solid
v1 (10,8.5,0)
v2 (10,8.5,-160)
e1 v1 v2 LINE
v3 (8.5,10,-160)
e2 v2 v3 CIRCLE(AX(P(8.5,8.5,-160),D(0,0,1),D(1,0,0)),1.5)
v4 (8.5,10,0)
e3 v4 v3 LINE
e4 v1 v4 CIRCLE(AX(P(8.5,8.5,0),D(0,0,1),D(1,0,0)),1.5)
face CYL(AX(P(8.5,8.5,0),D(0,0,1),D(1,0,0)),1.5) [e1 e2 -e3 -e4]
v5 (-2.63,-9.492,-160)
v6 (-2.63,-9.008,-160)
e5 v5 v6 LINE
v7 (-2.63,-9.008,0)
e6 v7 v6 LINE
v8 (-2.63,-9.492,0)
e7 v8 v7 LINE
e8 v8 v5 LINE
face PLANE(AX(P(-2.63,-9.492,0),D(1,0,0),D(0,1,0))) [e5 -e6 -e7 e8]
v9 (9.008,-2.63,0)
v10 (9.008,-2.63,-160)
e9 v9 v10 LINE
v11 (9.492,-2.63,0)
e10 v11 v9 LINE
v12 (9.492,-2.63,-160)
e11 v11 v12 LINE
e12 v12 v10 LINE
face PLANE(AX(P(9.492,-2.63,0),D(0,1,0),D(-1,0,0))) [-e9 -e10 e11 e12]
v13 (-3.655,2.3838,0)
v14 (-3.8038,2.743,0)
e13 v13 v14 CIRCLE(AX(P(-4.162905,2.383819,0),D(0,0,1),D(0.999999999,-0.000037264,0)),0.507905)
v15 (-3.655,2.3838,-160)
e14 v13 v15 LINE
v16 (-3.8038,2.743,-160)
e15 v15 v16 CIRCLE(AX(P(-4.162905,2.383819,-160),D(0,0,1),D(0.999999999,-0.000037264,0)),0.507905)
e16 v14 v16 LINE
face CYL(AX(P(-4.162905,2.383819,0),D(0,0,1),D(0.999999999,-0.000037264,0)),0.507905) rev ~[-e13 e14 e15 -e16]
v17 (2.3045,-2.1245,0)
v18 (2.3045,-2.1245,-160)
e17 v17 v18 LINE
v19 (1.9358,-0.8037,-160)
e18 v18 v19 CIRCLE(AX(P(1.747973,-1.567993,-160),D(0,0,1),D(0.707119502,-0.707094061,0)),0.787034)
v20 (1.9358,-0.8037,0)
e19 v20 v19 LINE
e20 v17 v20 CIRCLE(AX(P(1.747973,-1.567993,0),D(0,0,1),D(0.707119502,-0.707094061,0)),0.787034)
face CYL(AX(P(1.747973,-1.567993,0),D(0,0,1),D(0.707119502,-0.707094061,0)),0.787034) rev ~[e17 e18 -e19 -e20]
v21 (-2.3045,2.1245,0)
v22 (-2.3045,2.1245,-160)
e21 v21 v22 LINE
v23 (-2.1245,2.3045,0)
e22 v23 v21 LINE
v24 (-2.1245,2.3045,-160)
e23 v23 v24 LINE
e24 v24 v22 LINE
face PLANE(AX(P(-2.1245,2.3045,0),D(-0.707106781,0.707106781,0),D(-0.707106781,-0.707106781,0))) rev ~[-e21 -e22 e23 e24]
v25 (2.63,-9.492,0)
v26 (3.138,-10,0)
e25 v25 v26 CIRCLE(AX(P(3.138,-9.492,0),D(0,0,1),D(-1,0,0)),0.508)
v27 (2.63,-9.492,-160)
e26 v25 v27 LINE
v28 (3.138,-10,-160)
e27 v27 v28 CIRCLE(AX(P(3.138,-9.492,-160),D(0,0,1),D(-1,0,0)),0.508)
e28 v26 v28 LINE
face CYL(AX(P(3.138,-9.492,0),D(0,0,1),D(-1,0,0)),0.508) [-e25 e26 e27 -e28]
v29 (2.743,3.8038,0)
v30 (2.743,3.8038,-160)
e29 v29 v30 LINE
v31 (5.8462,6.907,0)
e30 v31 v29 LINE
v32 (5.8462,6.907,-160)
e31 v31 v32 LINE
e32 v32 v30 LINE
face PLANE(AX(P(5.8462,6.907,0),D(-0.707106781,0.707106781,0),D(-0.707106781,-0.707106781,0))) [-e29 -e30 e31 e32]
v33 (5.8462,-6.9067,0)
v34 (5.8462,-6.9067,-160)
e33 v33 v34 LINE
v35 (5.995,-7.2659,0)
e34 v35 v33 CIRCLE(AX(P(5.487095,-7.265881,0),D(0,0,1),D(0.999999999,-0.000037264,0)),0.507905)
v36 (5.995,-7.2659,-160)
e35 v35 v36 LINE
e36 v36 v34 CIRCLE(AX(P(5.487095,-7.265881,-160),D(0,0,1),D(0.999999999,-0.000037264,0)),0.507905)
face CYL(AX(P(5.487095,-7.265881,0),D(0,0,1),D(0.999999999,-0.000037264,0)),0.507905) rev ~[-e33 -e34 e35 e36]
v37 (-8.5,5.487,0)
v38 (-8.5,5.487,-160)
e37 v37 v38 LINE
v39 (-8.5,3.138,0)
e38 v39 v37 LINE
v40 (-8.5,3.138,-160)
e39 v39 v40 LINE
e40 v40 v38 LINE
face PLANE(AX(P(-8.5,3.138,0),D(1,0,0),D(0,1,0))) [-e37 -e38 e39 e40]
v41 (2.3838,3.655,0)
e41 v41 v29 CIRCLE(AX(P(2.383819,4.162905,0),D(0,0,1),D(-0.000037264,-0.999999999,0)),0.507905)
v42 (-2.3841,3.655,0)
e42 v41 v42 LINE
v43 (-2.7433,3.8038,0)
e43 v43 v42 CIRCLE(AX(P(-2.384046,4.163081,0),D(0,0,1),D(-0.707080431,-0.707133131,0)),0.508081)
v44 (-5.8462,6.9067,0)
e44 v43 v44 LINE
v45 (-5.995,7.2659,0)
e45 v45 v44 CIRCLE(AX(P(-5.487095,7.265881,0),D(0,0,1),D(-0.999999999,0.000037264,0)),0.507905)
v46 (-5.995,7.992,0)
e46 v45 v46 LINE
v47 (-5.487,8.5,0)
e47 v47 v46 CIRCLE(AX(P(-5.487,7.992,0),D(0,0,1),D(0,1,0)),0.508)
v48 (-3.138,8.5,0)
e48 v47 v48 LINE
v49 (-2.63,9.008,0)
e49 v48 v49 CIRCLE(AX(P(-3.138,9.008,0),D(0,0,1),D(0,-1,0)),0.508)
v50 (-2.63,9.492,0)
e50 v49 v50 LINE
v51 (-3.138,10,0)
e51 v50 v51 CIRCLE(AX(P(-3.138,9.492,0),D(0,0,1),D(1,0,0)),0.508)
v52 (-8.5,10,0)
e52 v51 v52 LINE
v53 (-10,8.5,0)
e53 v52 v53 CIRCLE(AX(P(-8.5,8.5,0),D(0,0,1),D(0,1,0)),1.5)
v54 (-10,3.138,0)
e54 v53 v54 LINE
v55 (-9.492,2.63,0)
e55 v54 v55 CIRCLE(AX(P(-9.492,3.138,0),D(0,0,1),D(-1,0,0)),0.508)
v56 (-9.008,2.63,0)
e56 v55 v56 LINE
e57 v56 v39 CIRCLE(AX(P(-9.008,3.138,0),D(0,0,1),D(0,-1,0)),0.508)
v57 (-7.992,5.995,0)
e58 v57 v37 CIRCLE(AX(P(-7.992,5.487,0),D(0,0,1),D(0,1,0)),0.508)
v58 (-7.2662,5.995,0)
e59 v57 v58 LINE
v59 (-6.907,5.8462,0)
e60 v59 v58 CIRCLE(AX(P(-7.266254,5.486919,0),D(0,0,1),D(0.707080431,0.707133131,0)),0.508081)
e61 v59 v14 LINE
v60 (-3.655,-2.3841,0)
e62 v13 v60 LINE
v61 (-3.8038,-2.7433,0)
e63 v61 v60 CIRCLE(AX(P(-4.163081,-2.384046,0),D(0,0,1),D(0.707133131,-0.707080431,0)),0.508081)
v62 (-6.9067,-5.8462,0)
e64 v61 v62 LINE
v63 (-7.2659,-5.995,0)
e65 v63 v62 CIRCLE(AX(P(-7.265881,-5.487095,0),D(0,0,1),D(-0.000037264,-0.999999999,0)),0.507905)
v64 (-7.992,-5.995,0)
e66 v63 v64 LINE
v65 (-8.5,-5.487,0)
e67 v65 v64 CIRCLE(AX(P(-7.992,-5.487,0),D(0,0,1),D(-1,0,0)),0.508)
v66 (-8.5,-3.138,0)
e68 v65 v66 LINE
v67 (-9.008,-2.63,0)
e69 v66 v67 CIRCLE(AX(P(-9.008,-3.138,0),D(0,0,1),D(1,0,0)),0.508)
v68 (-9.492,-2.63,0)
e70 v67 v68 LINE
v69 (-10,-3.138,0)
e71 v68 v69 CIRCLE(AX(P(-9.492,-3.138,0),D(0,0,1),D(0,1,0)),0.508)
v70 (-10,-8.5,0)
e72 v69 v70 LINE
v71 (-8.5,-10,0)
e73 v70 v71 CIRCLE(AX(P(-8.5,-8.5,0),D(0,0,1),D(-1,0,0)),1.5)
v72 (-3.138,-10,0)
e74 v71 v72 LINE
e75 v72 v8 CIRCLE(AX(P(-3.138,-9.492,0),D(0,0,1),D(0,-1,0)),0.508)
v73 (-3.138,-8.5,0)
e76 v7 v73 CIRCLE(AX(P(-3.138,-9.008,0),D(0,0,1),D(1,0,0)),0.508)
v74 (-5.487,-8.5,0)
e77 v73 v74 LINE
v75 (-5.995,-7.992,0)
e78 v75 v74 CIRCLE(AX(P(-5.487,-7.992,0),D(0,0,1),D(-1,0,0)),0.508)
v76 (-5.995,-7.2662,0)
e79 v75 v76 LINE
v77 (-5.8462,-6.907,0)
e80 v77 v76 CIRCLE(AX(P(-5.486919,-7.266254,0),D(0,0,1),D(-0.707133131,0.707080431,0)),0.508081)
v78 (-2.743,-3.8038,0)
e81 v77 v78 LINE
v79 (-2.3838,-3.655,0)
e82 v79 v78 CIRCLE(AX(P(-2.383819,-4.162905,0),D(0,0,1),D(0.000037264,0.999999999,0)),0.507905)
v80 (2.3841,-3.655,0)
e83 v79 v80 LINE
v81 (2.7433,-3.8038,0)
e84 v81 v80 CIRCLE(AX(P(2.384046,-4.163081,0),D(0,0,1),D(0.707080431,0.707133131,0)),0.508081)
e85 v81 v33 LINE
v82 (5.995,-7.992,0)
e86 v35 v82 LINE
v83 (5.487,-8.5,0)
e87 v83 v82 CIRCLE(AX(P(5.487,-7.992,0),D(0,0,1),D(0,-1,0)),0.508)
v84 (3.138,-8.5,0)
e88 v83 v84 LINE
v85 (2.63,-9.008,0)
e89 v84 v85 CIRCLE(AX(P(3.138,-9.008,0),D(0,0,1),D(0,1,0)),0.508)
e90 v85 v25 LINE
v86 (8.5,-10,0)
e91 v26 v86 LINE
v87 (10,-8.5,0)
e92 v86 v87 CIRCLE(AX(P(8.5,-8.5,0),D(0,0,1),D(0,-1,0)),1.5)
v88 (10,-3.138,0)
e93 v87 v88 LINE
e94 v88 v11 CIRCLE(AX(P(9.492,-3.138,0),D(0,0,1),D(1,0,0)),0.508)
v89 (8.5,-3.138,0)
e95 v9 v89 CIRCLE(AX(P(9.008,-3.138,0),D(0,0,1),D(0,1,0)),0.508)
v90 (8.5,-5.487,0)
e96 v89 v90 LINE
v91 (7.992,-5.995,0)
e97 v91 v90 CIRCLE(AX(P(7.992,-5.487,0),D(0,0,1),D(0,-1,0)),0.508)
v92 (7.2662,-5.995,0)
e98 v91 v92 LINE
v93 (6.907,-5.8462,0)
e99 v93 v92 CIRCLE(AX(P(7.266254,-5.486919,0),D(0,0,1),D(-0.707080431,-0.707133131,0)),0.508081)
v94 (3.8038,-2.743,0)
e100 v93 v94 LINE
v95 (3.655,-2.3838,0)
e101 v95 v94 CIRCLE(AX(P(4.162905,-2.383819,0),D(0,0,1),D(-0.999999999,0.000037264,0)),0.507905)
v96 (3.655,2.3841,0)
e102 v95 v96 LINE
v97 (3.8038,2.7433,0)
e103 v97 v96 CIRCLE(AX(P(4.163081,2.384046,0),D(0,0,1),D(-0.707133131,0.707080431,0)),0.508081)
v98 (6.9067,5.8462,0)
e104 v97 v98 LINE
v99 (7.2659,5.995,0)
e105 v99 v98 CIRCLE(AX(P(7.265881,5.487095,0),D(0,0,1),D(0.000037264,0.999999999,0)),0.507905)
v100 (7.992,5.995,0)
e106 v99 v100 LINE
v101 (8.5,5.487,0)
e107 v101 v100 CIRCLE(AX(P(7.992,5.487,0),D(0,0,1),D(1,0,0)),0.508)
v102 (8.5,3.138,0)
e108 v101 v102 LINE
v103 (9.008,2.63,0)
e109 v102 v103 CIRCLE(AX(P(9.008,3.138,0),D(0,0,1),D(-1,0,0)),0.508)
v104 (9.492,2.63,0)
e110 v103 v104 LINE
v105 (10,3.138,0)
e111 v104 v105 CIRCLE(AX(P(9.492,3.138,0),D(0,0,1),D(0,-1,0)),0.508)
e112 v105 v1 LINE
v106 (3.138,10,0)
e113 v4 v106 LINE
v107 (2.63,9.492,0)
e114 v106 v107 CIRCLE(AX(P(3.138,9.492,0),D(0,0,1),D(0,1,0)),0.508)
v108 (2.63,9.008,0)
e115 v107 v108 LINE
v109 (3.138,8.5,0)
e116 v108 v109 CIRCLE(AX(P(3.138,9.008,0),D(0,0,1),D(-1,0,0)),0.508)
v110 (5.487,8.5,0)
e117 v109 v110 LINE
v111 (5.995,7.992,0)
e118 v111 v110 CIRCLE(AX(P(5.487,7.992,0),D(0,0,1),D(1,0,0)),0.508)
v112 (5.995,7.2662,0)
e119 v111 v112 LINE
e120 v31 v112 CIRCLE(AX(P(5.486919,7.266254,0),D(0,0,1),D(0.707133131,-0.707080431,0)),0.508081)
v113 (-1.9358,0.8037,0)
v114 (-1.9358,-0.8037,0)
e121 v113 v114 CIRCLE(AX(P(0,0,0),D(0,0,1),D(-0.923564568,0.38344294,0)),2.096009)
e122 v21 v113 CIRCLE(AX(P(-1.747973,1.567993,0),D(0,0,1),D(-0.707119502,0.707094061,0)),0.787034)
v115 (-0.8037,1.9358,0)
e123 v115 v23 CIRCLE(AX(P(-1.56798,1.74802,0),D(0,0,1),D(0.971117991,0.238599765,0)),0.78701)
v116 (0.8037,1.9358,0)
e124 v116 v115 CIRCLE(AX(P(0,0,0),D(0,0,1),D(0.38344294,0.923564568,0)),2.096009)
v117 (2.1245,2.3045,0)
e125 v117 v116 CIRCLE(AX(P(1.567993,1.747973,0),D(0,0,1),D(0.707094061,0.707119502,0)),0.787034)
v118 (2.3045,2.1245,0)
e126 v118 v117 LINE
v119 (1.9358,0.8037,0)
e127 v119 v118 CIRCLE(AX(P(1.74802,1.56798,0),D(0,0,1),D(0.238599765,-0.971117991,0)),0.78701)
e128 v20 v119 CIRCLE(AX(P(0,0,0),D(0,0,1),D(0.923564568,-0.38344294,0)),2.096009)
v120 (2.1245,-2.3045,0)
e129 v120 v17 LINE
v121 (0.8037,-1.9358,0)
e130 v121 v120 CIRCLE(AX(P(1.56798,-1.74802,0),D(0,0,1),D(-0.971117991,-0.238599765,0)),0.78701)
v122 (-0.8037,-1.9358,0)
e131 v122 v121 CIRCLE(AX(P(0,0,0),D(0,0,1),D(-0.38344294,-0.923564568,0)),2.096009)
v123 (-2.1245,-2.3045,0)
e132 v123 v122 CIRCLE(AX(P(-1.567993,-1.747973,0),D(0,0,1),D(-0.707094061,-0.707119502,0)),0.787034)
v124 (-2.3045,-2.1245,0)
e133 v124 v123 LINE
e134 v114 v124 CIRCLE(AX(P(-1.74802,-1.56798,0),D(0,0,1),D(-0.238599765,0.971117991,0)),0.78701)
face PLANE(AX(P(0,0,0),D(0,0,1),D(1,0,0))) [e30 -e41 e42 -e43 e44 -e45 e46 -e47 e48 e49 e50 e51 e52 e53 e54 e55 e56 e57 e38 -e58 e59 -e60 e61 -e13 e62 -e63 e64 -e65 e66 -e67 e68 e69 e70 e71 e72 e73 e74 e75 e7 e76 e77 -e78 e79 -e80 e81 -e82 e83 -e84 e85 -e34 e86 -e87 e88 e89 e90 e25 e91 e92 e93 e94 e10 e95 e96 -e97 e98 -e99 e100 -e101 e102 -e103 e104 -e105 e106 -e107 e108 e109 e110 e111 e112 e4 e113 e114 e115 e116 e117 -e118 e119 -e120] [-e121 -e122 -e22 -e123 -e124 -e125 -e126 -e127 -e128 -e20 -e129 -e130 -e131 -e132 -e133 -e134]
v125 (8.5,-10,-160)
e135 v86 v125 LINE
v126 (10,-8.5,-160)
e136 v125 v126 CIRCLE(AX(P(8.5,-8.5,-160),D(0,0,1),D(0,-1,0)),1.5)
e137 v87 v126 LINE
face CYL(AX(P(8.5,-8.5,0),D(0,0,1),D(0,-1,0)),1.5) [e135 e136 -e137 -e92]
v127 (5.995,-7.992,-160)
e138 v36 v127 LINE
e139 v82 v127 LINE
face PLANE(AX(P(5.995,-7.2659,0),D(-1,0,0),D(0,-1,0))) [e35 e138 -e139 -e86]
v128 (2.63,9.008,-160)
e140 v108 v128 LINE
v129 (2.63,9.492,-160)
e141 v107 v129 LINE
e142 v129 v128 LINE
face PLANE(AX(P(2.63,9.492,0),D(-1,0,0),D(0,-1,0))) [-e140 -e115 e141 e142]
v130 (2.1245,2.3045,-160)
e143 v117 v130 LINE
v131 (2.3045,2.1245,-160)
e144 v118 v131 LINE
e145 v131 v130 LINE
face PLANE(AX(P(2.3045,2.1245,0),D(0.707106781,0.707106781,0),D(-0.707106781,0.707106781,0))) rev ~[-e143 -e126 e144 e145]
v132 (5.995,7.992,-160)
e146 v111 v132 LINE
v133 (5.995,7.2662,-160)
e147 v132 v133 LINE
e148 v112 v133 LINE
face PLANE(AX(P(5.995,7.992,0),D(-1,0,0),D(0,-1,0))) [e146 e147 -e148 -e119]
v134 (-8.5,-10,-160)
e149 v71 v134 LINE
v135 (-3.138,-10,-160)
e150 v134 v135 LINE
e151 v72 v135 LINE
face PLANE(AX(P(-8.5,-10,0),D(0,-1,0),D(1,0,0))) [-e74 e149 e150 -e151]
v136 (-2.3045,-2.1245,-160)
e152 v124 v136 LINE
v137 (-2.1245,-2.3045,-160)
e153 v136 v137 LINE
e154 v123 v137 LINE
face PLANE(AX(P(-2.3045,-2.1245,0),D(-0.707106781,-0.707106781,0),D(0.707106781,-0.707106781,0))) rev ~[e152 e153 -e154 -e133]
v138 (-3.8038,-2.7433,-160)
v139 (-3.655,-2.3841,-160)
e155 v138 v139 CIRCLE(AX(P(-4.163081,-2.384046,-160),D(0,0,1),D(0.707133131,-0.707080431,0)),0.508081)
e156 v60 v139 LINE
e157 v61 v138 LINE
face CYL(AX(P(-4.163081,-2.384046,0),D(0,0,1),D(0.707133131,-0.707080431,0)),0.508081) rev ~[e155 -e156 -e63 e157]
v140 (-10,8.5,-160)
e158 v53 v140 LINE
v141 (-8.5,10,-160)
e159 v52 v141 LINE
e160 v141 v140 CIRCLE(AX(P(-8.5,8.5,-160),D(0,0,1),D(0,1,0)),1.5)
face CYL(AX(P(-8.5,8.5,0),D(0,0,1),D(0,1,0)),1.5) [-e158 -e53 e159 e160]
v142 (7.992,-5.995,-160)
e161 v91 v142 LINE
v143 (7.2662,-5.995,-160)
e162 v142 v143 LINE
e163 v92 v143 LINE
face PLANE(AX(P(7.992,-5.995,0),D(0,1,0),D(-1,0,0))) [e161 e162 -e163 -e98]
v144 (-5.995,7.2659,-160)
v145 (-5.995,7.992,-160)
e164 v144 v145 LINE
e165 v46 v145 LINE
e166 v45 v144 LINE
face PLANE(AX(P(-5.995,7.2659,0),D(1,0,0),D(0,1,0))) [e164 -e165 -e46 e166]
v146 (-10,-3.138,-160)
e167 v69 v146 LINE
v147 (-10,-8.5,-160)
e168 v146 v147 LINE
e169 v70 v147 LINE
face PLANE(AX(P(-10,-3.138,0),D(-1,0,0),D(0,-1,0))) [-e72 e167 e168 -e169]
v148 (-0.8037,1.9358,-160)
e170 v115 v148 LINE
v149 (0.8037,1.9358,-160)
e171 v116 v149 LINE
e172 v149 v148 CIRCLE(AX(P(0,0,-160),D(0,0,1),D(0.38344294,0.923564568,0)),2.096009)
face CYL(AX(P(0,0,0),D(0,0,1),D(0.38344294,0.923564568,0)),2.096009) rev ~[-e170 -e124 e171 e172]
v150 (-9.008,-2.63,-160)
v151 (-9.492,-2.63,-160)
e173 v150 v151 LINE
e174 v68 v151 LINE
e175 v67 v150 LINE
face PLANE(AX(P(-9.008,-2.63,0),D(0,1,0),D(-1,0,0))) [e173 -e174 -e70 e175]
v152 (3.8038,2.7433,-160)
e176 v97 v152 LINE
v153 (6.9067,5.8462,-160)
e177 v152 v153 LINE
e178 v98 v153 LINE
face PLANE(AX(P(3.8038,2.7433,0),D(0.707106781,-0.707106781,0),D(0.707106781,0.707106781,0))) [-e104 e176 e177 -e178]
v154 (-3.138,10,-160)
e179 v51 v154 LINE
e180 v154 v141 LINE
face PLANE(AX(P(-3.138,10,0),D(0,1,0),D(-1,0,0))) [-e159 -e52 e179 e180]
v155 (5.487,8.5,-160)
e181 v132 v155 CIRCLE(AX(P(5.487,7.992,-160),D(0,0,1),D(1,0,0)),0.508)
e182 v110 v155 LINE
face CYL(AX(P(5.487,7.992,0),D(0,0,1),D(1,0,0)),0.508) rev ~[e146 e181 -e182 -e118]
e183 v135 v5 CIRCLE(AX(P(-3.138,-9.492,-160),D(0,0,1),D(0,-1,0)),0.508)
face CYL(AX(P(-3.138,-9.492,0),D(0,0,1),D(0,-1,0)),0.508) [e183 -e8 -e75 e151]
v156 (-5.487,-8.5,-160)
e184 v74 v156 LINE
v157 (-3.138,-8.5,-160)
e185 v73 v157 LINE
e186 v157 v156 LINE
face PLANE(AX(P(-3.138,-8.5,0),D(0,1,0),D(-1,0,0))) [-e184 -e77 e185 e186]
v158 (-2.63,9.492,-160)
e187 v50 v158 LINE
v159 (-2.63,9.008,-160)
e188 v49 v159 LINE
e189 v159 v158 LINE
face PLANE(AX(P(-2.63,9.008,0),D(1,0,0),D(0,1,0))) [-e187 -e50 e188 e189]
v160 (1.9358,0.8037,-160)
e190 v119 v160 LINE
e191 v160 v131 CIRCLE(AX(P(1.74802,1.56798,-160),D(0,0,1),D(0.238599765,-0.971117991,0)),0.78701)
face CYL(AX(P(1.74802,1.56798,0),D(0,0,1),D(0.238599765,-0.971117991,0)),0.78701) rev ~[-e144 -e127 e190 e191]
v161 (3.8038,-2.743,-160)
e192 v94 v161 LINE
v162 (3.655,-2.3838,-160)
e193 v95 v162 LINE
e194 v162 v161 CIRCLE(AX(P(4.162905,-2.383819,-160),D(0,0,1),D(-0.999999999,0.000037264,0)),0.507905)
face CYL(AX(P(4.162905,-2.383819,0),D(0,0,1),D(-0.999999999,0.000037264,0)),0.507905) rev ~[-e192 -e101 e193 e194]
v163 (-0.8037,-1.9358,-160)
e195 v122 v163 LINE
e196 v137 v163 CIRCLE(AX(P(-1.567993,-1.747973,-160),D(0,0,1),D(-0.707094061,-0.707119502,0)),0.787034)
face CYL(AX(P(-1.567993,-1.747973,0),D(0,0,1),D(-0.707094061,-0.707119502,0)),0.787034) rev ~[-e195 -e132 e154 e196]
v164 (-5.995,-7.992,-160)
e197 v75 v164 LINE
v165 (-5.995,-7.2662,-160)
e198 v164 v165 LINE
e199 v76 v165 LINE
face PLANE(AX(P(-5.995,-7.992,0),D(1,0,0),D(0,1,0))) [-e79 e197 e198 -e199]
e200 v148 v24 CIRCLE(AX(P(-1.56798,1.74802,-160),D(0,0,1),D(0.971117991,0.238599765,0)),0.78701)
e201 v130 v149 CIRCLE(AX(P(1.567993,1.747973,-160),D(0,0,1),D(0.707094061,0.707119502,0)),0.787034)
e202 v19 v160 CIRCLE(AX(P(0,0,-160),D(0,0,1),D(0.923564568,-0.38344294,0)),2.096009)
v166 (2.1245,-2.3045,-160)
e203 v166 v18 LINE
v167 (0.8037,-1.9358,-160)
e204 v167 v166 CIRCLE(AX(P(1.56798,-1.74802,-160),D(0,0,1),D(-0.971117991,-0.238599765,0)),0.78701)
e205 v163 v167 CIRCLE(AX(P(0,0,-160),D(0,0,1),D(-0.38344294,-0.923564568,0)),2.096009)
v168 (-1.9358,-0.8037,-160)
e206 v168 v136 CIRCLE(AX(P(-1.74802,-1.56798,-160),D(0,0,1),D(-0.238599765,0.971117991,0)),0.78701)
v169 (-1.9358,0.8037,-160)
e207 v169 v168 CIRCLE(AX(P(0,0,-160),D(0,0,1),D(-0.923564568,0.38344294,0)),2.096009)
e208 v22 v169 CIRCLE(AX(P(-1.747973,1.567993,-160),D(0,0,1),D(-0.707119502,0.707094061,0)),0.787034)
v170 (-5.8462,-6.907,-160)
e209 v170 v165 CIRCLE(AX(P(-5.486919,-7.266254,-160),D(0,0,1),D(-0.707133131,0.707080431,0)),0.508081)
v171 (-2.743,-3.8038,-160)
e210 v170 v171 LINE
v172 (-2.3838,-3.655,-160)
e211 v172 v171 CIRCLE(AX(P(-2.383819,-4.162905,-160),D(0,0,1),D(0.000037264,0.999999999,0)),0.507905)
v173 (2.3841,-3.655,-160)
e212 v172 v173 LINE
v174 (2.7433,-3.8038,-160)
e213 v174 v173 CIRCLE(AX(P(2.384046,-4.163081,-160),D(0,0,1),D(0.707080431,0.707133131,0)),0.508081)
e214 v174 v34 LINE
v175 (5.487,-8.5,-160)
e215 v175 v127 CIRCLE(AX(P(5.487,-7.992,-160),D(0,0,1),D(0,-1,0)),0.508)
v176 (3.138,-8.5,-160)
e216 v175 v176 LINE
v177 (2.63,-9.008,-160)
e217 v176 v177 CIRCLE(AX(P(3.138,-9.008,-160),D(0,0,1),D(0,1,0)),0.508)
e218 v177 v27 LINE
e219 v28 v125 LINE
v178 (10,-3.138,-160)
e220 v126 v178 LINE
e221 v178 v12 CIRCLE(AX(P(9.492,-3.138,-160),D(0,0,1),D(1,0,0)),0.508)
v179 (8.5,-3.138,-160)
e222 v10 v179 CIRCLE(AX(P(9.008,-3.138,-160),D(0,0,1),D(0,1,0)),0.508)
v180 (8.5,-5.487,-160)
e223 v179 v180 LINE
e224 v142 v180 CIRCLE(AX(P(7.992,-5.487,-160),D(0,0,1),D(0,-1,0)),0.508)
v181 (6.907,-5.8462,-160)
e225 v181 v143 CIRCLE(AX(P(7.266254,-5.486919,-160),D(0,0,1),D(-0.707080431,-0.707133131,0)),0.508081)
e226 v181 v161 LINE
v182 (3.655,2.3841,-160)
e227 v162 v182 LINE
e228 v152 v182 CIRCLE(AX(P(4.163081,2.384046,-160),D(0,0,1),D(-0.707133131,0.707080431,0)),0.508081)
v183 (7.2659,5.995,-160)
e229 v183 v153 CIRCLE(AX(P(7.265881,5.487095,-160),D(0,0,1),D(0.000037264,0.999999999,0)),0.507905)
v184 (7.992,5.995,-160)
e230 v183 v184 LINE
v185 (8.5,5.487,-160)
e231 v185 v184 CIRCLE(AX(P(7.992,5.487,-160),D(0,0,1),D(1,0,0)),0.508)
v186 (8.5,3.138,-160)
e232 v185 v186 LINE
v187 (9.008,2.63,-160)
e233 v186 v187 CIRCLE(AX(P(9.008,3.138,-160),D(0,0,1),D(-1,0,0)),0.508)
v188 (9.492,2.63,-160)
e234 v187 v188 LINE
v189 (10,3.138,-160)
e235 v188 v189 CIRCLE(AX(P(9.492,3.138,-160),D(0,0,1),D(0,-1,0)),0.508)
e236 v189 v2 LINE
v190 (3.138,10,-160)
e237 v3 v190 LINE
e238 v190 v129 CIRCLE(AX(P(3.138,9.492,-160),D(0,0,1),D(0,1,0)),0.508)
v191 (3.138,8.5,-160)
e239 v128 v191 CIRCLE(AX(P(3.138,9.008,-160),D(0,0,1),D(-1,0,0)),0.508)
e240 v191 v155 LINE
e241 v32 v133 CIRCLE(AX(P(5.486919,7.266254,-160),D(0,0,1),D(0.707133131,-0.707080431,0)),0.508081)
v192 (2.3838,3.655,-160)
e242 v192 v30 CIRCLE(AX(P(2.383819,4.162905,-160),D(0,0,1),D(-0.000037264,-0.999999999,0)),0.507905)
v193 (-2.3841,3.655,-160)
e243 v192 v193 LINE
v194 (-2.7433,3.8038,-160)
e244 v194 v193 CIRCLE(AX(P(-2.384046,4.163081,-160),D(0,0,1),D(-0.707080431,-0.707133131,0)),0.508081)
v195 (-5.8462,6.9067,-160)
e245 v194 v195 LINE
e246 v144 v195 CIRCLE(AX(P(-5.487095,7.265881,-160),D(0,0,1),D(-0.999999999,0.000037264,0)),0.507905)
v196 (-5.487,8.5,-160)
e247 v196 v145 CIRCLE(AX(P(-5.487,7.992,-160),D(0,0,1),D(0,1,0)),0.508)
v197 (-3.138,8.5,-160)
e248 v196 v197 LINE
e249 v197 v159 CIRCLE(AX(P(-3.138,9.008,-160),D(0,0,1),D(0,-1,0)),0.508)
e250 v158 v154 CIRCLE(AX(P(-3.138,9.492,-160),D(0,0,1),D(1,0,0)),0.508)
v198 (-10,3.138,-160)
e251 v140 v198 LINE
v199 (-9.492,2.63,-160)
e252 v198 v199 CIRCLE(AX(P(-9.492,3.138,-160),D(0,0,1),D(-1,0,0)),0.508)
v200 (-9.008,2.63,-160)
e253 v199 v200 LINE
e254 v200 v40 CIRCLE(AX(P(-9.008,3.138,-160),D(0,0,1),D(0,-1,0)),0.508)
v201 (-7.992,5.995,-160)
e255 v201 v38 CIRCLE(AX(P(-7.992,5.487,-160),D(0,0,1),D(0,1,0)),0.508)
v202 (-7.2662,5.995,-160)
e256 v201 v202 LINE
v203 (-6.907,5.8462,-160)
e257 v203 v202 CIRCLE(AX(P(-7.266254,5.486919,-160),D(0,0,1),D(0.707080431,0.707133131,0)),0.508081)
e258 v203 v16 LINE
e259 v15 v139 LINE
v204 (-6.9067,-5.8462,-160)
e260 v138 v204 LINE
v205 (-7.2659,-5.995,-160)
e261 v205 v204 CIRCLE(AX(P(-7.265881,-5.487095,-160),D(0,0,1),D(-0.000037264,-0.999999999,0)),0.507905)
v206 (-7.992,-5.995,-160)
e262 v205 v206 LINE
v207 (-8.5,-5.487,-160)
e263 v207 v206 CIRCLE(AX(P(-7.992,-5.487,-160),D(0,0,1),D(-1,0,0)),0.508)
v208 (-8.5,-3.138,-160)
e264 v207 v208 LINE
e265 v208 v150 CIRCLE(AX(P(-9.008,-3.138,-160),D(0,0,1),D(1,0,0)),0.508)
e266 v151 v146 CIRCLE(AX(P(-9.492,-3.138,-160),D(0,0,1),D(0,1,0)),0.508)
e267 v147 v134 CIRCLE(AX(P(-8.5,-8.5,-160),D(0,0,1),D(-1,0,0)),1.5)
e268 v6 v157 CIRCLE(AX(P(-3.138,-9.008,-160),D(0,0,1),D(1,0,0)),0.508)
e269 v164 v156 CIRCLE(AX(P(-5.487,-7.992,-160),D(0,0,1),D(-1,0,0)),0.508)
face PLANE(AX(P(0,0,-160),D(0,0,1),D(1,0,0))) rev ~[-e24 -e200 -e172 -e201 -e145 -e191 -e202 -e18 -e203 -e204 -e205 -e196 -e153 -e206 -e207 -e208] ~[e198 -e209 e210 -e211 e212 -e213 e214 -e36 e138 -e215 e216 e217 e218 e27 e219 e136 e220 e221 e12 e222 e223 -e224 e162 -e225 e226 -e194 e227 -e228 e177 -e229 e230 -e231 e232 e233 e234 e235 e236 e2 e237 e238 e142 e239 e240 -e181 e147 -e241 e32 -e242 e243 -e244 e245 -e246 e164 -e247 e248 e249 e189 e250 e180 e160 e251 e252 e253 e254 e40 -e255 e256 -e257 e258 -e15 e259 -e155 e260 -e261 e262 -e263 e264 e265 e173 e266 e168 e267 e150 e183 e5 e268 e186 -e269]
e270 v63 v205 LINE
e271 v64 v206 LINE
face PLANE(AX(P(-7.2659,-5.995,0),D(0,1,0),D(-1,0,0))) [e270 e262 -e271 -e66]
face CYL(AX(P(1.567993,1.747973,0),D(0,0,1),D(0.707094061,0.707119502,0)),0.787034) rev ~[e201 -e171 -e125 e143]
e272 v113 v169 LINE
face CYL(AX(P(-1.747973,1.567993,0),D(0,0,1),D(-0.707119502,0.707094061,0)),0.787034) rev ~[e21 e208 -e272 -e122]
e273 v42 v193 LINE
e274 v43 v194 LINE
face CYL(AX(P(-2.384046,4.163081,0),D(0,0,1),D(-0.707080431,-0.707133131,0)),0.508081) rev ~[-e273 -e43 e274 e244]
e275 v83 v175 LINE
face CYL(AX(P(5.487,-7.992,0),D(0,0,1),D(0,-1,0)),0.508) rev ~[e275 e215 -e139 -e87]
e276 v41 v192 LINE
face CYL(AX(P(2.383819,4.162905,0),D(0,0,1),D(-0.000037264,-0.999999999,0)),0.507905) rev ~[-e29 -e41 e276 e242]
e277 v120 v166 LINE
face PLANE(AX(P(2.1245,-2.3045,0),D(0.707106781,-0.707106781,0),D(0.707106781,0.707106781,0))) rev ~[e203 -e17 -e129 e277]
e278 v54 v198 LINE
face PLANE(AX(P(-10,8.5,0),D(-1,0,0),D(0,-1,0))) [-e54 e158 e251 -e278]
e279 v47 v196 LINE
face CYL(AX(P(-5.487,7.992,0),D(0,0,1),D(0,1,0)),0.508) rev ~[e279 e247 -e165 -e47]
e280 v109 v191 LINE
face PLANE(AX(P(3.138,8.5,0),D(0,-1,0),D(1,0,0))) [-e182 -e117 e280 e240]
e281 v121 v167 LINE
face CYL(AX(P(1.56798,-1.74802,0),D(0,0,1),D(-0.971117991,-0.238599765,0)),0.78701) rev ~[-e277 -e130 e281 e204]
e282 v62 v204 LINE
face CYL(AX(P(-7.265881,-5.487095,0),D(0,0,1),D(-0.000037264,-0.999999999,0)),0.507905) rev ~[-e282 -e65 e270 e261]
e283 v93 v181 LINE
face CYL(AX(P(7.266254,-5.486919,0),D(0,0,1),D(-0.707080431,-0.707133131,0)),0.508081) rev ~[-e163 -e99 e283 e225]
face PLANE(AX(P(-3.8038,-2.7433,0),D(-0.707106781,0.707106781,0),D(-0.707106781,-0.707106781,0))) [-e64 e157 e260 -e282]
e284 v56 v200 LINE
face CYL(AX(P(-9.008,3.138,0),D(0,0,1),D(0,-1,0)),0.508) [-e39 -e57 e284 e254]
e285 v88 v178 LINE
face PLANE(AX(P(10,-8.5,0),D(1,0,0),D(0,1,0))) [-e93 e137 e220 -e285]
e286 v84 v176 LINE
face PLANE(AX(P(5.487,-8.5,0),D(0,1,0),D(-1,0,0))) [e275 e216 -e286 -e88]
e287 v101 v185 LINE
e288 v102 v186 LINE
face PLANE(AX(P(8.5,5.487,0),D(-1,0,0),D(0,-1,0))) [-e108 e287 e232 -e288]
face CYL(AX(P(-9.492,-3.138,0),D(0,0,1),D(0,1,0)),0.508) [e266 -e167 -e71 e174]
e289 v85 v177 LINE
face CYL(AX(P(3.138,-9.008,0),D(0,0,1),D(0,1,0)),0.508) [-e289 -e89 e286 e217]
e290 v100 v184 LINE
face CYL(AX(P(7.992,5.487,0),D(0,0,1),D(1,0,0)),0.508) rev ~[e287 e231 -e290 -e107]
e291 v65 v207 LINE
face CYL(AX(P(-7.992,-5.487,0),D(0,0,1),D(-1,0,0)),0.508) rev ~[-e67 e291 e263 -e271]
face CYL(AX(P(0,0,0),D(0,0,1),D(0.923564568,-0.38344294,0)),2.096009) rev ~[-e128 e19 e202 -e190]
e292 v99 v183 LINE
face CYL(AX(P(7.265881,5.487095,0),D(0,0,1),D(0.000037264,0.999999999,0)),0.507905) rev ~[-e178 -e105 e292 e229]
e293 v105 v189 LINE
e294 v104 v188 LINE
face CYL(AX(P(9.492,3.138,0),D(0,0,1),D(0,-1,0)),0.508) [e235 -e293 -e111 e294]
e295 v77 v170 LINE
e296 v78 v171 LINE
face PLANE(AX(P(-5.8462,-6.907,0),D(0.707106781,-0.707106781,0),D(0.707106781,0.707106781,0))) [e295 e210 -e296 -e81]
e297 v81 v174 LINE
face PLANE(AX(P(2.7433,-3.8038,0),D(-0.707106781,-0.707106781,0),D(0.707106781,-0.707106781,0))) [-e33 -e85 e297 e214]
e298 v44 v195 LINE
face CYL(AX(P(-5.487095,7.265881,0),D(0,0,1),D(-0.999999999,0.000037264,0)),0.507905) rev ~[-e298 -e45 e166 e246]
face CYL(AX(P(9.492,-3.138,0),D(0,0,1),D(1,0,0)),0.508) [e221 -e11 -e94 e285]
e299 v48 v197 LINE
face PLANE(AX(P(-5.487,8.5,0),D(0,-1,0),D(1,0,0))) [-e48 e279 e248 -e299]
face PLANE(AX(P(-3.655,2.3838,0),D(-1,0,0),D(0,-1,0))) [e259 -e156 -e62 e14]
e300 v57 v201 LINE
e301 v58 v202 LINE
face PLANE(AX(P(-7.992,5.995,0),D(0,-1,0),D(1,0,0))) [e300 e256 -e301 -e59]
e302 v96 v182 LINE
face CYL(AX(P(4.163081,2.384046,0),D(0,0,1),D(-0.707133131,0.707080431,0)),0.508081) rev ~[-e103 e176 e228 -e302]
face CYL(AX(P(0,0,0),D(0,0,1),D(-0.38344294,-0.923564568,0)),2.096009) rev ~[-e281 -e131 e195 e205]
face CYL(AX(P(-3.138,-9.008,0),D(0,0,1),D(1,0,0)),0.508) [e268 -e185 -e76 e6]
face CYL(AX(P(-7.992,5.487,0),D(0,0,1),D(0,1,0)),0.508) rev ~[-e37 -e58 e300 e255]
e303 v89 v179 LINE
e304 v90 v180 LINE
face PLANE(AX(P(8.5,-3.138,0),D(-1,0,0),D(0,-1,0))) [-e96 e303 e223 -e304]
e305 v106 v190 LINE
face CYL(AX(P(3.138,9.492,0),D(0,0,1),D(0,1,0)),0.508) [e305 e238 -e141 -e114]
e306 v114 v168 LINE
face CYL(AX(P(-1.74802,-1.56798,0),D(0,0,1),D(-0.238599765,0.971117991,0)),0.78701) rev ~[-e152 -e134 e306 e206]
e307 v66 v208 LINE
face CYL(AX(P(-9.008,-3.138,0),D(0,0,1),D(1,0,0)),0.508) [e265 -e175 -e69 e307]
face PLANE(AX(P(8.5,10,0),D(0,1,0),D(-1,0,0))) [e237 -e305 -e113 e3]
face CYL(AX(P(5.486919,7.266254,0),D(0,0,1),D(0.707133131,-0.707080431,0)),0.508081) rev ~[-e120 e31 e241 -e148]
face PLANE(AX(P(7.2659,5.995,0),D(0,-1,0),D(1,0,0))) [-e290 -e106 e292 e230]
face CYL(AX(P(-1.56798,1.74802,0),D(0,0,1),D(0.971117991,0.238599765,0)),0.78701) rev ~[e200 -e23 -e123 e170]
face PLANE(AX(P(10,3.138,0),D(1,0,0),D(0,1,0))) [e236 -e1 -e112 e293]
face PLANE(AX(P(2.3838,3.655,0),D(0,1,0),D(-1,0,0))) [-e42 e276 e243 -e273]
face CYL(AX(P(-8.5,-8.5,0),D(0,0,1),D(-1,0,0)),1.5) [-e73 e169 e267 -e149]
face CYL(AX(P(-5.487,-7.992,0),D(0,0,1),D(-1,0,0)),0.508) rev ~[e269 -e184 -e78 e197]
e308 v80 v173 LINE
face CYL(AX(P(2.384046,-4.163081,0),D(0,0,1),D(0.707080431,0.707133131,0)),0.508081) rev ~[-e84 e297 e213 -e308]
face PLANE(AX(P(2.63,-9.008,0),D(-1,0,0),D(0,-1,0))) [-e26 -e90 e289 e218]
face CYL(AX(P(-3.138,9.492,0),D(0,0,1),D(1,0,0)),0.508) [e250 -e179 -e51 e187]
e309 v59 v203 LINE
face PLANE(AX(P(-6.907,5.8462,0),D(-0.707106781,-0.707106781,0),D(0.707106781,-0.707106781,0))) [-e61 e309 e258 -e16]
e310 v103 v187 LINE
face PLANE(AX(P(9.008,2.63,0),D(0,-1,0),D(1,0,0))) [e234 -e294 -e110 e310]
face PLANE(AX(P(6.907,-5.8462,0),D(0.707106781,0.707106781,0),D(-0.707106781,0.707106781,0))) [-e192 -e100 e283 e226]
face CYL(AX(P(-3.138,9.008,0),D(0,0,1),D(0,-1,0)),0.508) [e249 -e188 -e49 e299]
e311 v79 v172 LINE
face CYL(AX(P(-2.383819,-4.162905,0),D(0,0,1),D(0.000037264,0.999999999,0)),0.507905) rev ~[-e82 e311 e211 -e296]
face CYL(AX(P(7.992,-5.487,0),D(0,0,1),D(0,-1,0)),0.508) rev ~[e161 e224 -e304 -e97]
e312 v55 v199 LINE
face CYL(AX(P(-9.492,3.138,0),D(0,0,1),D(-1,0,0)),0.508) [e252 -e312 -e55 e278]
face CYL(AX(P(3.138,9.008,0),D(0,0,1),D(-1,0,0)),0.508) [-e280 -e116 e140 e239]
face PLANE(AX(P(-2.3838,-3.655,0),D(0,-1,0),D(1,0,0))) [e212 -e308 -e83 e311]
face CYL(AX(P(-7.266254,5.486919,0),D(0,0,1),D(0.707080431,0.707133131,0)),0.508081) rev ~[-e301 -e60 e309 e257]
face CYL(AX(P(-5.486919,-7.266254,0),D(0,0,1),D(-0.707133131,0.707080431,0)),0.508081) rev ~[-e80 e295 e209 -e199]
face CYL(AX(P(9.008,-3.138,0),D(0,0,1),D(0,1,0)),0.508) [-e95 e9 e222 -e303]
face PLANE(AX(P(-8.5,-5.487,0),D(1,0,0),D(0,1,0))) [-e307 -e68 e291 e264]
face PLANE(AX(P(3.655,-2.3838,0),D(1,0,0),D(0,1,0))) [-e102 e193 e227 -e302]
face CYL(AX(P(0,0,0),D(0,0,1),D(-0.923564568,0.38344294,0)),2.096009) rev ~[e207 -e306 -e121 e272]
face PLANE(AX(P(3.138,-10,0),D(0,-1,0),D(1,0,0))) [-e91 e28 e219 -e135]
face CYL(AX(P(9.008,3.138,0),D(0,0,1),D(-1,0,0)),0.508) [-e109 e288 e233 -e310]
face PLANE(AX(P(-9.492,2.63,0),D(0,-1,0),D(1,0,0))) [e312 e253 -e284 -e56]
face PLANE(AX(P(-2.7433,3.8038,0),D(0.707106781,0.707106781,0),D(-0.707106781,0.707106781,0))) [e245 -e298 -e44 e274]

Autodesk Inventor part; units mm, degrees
ref_plane "YZ Plane" through (0, 0, 0) normal (1, 0, 0) x (0, 1, 0)
ref_plane "XZ Plane" through (0, 0, 0) normal (0, 1, 0) x (-1, 0, 0)
ref_plane "XY Plane" through (0, 0, 0) normal (0, 0, 1) x (1, 0, 0)
sketch "Sketch_1" plane through (0, 0, 0) normal (0, 0, 1) x (1, 0, 0)
  arc A0 (-10, -8.5) -> (-8.5, -10) centre (-8.5, -8.5) ccw
  line L0 (-8.5, -10) -> (-3.138, -10)
  arc A1 (-3.138, -10) -> (-2.63, -9.492) centre (-3.138, -9.492) ccw
  line L1 (-2.63, -9.492) -> (-2.63, -9.008)
  arc A2 (-2.63, -9.008) -> (-3.138, -8.5) centre (-3.138, -9.008) ccw
  line L2 (-3.138, -8.5) -> (-5.487, -8.5)
  arc A3 (-5.995, -7.992) -> (-5.487, -8.5) centre (-5.487, -7.992) ccw
  line L3 (-5.995, -7.992) -> (-5.995, -7.2662)
  arc A4 (-5.8462, -6.907) -> (-5.995, -7.2662) centre (-5.487, -7.2662) ccw
  line L4 (-5.8462, -6.907) -> (-2.743, -3.8038)
  arc A5 (-2.3838, -3.655) -> (-2.743, -3.8038) centre (-2.3838, -4.163) ccw
  line L5 (-2.3838, -3.655) -> (2.3841, -3.655)
  arc A6 (2.7433, -3.8038) -> (2.3841, -3.655) centre (2.3841, -4.163) ccw
  line L6 (2.7433, -3.8038) -> (5.8462, -6.9067)
  arc A7 (5.995, -7.2659) -> (5.8462, -6.9067) centre (5.487, -7.2659) ccw
  line L7 (5.995, -7.2659) -> (5.995, -7.992)
  arc A8 (5.487, -8.5) -> (5.995, -7.992) centre (5.487, -7.992) ccw
  line L8 (5.487, -8.5) -> (3.138, -8.5)
  arc A9 (3.138, -8.5) -> (2.63, -9.008) centre (3.138, -9.008) ccw
  line L9 (2.63, -9.008) -> (2.63, -9.492)
  arc A10 (2.63, -9.492) -> (3.138, -10) centre (3.138, -9.492) ccw
  line L10 (3.138, -10) -> (8.5, -10)
  arc A11 (8.5, -10) -> (10, -8.5) centre (8.5, -8.5) ccw
  line L11 (10, -8.5) -> (10, -3.138)
  arc A12 (10, -3.138) -> (9.492, -2.63) centre (9.492, -3.138) ccw
  line L12 (9.492, -2.63) -> (9.008, -2.63)
  arc A13 (9.008, -2.63) -> (8.5, -3.138) centre (9.008, -3.138) ccw
  line L13 (8.5, -3.138) -> (8.5, -5.487)
  arc A14 (7.992, -5.995) -> (8.5, -5.487) centre (7.992, -5.487) ccw
  line L14 (7.992, -5.995) -> (7.2662, -5.995)
  arc A15 (6.907, -5.8462) -> (7.2662, -5.995) centre (7.2662, -5.487) ccw
  line L15 (6.907, -5.8462) -> (3.8038, -2.743)
  arc A16 (3.655, -2.3838) -> (3.8038, -2.743) centre (4.163, -2.3838) ccw
  line L16 (3.655, -2.3838) -> (3.655, 2.3841)
  arc A17 (3.8038, 2.7433) -> (3.655, 2.3841) centre (4.163, 2.3841) ccw
  line L17 (3.8038, 2.7433) -> (6.9067, 5.8462)
  arc A18 (7.2659, 5.995) -> (6.9067, 5.8462) centre (7.2659, 5.487) ccw
  line L18 (7.2659, 5.995) -> (7.992, 5.995)
  arc A19 (8.5, 5.487) -> (7.992, 5.995) centre (7.992, 5.487) ccw
  line L19 (8.5, 5.487) -> (8.5, 3.138)
  arc A20 (8.5, 3.138) -> (9.008, 2.63) centre (9.008, 3.138) ccw
  line L20 (9.008, 2.63) -> (9.492, 2.63)
  arc A21 (9.492, 2.63) -> (10, 3.138) centre (9.492, 3.138) ccw
  line L21 (10, 3.138) -> (10, 8.5)
  arc A22 (10, 8.5) -> (8.5, 10) centre (8.5, 8.5) ccw
  line L22 (8.5, 10) -> (3.138, 10)
  arc A23 (3.138, 10) -> (2.63, 9.492) centre (3.138, 9.492) ccw
  line L23 (2.63, 9.492) -> (2.63, 9.008)
  arc A24 (2.63, 9.008) -> (3.138, 8.5) centre (3.138, 9.008) ccw
  line L24 (3.138, 8.5) -> (5.487, 8.5)
  arc A25 (5.995, 7.992) -> (5.487, 8.5) centre (5.487, 7.992) ccw
  line L25 (5.995, 7.992) -> (5.995, 7.2662)
  arc A26 (5.8462, 6.907) -> (5.995, 7.2662) centre (5.487, 7.2662) ccw
  line L26 (5.8462, 6.907) -> (2.743, 3.8038)
  arc A27 (2.3838, 3.655) -> (2.743, 3.8038) centre (2.3838, 4.163) ccw
  line L27 (2.3838, 3.655) -> (-2.3841, 3.655)
  arc A28 (-2.7433, 3.8038) -> (-2.3841, 3.655) centre (-2.3841, 4.163) ccw
  line L28 (-2.7433, 3.8038) -> (-5.8462, 6.9067)
  arc A29 (-5.995, 7.2659) -> (-5.8462, 6.9067) centre (-5.487, 7.2659) ccw
  line L29 (-5.995, 7.2659) -> (-5.995, 7.992)
  arc A30 (-5.487, 8.5) -> (-5.995, 7.992) centre (-5.487, 7.992) ccw
  line L30 (-5.487, 8.5) -> (-3.138, 8.5)
  arc A31 (-3.138, 8.5) -> (-2.63, 9.008) centre (-3.138, 9.008) ccw
  line L31 (-2.63, 9.008) -> (-2.63, 9.492)
  arc A32 (-2.63, 9.492) -> (-3.138, 10) centre (-3.138, 9.492) ccw
  line L32 (-3.138, 10) -> (-8.5, 10)
  arc A33 (-8.5, 10) -> (-10, 8.5) centre (-8.5, 8.5) ccw
  line L33 (-10, 8.5) -> (-10, 3.138)
  arc A34 (-10, 3.138) -> (-9.492, 2.63) centre (-9.492, 3.138) ccw
  line L34 (-9.492, 2.63) -> (-9.008, 2.63)
  arc A35 (-9.008, 2.63) -> (-8.5, 3.138) centre (-9.008, 3.138) ccw
  line L35 (-8.5, 3.138) -> (-8.5, 5.487)
  arc A36 (-7.992, 5.995) -> (-8.5, 5.487) centre (-7.992, 5.487) ccw
  line L36 (-7.992, 5.995) -> (-7.2662, 5.995)
  arc A37 (-6.907, 5.8462) -> (-7.2662, 5.995) centre (-7.2662, 5.487) ccw
  line L37 (-6.907, 5.8462) -> (-3.8038, 2.743)
  arc A38 (-3.655, 2.3838) -> (-3.8038, 2.743) centre (-4.163, 2.3838) ccw
  line L38 (-3.655, 2.3838) -> (-3.655, -2.3841)
  arc A39 (-3.8038, -2.7433) -> (-3.655, -2.3841) centre (-4.163, -2.3841) ccw
  line L39 (-3.8038, -2.7433) -> (-6.9067, -5.8462)
  arc A40 (-7.2659, -5.995) -> (-6.9067, -5.8462) centre (-7.2659, -5.487) ccw
  line L40 (-7.2659, -5.995) -> (-7.992, -5.995)
  arc A41 (-8.5, -5.487) -> (-7.992, -5.995) centre (-7.992, -5.487) ccw
  line L41 (-8.5, -5.487) -> (-8.5, -3.138)
  arc A42 (-8.5, -3.138) -> (-9.008, -2.63) centre (-9.008, -3.138) ccw
  line L42 (-9.008, -2.63) -> (-9.492, -2.63)
  arc A43 (-9.492, -2.63) -> (-10, -3.138) centre (-9.492, -3.138) ccw
  line L43 (-10, -3.138) -> (-10, -8.5)
  arc A44 (-1.9358, -0.8037) -> (-2.3045, -2.1245) centre (-1.748, -1.568) ccw
  line L44 (-2.3045, -2.1245) -> (-2.1245, -2.3045)
  arc A45 (-2.1245, -2.3045) -> (-0.8037, -1.9358) centre (-1.568, -1.748) ccw
  arc A46 (-0.8037, -1.9358) -> (0.8037, -1.9358) centre (0, 0) ccw
  arc A47 (0.8037, -1.9358) -> (2.1245, -2.3045) centre (1.568, -1.748) ccw
  line L45 (2.1245, -2.3045) -> (2.3045, -2.1245)
  arc A48 (2.3045, -2.1245) -> (1.9358, -0.8037) centre (1.748, -1.568) ccw
  arc A49 (1.9358, -0.8037) -> (1.9358, 0.8037) centre (0, 0) ccw
  arc A50 (1.9358, 0.8037) -> (2.3045, 2.1245) centre (1.748, 1.568) ccw
  line L46 (2.3045, 2.1245) -> (2.1245, 2.3045)
  arc A51 (2.1245, 2.3045) -> (0.8037, 1.9358) centre (1.568, 1.748) ccw
  arc A52 (0.8037, 1.9358) -> (-0.8037, 1.9358) centre (0, 0) ccw
  arc A53 (-0.8037, 1.9358) -> (-2.1245, 2.3045) centre (-1.568, 1.748) ccw
  line L47 (-2.1245, 2.3045) -> (-2.3045, 2.1245)
  arc A54 (-2.3045, 2.1245) -> (-1.9358, 0.8037) centre (-1.748, 1.568) ccw
  arc A55 (-1.9358, 0.8037) -> (-1.9358, -0.8037) centre (0, 0) ccw
extrude "Extrusion1" add sketch "Sketch_1" against normal blind 160
properties part number "20-2020-160-CL"
